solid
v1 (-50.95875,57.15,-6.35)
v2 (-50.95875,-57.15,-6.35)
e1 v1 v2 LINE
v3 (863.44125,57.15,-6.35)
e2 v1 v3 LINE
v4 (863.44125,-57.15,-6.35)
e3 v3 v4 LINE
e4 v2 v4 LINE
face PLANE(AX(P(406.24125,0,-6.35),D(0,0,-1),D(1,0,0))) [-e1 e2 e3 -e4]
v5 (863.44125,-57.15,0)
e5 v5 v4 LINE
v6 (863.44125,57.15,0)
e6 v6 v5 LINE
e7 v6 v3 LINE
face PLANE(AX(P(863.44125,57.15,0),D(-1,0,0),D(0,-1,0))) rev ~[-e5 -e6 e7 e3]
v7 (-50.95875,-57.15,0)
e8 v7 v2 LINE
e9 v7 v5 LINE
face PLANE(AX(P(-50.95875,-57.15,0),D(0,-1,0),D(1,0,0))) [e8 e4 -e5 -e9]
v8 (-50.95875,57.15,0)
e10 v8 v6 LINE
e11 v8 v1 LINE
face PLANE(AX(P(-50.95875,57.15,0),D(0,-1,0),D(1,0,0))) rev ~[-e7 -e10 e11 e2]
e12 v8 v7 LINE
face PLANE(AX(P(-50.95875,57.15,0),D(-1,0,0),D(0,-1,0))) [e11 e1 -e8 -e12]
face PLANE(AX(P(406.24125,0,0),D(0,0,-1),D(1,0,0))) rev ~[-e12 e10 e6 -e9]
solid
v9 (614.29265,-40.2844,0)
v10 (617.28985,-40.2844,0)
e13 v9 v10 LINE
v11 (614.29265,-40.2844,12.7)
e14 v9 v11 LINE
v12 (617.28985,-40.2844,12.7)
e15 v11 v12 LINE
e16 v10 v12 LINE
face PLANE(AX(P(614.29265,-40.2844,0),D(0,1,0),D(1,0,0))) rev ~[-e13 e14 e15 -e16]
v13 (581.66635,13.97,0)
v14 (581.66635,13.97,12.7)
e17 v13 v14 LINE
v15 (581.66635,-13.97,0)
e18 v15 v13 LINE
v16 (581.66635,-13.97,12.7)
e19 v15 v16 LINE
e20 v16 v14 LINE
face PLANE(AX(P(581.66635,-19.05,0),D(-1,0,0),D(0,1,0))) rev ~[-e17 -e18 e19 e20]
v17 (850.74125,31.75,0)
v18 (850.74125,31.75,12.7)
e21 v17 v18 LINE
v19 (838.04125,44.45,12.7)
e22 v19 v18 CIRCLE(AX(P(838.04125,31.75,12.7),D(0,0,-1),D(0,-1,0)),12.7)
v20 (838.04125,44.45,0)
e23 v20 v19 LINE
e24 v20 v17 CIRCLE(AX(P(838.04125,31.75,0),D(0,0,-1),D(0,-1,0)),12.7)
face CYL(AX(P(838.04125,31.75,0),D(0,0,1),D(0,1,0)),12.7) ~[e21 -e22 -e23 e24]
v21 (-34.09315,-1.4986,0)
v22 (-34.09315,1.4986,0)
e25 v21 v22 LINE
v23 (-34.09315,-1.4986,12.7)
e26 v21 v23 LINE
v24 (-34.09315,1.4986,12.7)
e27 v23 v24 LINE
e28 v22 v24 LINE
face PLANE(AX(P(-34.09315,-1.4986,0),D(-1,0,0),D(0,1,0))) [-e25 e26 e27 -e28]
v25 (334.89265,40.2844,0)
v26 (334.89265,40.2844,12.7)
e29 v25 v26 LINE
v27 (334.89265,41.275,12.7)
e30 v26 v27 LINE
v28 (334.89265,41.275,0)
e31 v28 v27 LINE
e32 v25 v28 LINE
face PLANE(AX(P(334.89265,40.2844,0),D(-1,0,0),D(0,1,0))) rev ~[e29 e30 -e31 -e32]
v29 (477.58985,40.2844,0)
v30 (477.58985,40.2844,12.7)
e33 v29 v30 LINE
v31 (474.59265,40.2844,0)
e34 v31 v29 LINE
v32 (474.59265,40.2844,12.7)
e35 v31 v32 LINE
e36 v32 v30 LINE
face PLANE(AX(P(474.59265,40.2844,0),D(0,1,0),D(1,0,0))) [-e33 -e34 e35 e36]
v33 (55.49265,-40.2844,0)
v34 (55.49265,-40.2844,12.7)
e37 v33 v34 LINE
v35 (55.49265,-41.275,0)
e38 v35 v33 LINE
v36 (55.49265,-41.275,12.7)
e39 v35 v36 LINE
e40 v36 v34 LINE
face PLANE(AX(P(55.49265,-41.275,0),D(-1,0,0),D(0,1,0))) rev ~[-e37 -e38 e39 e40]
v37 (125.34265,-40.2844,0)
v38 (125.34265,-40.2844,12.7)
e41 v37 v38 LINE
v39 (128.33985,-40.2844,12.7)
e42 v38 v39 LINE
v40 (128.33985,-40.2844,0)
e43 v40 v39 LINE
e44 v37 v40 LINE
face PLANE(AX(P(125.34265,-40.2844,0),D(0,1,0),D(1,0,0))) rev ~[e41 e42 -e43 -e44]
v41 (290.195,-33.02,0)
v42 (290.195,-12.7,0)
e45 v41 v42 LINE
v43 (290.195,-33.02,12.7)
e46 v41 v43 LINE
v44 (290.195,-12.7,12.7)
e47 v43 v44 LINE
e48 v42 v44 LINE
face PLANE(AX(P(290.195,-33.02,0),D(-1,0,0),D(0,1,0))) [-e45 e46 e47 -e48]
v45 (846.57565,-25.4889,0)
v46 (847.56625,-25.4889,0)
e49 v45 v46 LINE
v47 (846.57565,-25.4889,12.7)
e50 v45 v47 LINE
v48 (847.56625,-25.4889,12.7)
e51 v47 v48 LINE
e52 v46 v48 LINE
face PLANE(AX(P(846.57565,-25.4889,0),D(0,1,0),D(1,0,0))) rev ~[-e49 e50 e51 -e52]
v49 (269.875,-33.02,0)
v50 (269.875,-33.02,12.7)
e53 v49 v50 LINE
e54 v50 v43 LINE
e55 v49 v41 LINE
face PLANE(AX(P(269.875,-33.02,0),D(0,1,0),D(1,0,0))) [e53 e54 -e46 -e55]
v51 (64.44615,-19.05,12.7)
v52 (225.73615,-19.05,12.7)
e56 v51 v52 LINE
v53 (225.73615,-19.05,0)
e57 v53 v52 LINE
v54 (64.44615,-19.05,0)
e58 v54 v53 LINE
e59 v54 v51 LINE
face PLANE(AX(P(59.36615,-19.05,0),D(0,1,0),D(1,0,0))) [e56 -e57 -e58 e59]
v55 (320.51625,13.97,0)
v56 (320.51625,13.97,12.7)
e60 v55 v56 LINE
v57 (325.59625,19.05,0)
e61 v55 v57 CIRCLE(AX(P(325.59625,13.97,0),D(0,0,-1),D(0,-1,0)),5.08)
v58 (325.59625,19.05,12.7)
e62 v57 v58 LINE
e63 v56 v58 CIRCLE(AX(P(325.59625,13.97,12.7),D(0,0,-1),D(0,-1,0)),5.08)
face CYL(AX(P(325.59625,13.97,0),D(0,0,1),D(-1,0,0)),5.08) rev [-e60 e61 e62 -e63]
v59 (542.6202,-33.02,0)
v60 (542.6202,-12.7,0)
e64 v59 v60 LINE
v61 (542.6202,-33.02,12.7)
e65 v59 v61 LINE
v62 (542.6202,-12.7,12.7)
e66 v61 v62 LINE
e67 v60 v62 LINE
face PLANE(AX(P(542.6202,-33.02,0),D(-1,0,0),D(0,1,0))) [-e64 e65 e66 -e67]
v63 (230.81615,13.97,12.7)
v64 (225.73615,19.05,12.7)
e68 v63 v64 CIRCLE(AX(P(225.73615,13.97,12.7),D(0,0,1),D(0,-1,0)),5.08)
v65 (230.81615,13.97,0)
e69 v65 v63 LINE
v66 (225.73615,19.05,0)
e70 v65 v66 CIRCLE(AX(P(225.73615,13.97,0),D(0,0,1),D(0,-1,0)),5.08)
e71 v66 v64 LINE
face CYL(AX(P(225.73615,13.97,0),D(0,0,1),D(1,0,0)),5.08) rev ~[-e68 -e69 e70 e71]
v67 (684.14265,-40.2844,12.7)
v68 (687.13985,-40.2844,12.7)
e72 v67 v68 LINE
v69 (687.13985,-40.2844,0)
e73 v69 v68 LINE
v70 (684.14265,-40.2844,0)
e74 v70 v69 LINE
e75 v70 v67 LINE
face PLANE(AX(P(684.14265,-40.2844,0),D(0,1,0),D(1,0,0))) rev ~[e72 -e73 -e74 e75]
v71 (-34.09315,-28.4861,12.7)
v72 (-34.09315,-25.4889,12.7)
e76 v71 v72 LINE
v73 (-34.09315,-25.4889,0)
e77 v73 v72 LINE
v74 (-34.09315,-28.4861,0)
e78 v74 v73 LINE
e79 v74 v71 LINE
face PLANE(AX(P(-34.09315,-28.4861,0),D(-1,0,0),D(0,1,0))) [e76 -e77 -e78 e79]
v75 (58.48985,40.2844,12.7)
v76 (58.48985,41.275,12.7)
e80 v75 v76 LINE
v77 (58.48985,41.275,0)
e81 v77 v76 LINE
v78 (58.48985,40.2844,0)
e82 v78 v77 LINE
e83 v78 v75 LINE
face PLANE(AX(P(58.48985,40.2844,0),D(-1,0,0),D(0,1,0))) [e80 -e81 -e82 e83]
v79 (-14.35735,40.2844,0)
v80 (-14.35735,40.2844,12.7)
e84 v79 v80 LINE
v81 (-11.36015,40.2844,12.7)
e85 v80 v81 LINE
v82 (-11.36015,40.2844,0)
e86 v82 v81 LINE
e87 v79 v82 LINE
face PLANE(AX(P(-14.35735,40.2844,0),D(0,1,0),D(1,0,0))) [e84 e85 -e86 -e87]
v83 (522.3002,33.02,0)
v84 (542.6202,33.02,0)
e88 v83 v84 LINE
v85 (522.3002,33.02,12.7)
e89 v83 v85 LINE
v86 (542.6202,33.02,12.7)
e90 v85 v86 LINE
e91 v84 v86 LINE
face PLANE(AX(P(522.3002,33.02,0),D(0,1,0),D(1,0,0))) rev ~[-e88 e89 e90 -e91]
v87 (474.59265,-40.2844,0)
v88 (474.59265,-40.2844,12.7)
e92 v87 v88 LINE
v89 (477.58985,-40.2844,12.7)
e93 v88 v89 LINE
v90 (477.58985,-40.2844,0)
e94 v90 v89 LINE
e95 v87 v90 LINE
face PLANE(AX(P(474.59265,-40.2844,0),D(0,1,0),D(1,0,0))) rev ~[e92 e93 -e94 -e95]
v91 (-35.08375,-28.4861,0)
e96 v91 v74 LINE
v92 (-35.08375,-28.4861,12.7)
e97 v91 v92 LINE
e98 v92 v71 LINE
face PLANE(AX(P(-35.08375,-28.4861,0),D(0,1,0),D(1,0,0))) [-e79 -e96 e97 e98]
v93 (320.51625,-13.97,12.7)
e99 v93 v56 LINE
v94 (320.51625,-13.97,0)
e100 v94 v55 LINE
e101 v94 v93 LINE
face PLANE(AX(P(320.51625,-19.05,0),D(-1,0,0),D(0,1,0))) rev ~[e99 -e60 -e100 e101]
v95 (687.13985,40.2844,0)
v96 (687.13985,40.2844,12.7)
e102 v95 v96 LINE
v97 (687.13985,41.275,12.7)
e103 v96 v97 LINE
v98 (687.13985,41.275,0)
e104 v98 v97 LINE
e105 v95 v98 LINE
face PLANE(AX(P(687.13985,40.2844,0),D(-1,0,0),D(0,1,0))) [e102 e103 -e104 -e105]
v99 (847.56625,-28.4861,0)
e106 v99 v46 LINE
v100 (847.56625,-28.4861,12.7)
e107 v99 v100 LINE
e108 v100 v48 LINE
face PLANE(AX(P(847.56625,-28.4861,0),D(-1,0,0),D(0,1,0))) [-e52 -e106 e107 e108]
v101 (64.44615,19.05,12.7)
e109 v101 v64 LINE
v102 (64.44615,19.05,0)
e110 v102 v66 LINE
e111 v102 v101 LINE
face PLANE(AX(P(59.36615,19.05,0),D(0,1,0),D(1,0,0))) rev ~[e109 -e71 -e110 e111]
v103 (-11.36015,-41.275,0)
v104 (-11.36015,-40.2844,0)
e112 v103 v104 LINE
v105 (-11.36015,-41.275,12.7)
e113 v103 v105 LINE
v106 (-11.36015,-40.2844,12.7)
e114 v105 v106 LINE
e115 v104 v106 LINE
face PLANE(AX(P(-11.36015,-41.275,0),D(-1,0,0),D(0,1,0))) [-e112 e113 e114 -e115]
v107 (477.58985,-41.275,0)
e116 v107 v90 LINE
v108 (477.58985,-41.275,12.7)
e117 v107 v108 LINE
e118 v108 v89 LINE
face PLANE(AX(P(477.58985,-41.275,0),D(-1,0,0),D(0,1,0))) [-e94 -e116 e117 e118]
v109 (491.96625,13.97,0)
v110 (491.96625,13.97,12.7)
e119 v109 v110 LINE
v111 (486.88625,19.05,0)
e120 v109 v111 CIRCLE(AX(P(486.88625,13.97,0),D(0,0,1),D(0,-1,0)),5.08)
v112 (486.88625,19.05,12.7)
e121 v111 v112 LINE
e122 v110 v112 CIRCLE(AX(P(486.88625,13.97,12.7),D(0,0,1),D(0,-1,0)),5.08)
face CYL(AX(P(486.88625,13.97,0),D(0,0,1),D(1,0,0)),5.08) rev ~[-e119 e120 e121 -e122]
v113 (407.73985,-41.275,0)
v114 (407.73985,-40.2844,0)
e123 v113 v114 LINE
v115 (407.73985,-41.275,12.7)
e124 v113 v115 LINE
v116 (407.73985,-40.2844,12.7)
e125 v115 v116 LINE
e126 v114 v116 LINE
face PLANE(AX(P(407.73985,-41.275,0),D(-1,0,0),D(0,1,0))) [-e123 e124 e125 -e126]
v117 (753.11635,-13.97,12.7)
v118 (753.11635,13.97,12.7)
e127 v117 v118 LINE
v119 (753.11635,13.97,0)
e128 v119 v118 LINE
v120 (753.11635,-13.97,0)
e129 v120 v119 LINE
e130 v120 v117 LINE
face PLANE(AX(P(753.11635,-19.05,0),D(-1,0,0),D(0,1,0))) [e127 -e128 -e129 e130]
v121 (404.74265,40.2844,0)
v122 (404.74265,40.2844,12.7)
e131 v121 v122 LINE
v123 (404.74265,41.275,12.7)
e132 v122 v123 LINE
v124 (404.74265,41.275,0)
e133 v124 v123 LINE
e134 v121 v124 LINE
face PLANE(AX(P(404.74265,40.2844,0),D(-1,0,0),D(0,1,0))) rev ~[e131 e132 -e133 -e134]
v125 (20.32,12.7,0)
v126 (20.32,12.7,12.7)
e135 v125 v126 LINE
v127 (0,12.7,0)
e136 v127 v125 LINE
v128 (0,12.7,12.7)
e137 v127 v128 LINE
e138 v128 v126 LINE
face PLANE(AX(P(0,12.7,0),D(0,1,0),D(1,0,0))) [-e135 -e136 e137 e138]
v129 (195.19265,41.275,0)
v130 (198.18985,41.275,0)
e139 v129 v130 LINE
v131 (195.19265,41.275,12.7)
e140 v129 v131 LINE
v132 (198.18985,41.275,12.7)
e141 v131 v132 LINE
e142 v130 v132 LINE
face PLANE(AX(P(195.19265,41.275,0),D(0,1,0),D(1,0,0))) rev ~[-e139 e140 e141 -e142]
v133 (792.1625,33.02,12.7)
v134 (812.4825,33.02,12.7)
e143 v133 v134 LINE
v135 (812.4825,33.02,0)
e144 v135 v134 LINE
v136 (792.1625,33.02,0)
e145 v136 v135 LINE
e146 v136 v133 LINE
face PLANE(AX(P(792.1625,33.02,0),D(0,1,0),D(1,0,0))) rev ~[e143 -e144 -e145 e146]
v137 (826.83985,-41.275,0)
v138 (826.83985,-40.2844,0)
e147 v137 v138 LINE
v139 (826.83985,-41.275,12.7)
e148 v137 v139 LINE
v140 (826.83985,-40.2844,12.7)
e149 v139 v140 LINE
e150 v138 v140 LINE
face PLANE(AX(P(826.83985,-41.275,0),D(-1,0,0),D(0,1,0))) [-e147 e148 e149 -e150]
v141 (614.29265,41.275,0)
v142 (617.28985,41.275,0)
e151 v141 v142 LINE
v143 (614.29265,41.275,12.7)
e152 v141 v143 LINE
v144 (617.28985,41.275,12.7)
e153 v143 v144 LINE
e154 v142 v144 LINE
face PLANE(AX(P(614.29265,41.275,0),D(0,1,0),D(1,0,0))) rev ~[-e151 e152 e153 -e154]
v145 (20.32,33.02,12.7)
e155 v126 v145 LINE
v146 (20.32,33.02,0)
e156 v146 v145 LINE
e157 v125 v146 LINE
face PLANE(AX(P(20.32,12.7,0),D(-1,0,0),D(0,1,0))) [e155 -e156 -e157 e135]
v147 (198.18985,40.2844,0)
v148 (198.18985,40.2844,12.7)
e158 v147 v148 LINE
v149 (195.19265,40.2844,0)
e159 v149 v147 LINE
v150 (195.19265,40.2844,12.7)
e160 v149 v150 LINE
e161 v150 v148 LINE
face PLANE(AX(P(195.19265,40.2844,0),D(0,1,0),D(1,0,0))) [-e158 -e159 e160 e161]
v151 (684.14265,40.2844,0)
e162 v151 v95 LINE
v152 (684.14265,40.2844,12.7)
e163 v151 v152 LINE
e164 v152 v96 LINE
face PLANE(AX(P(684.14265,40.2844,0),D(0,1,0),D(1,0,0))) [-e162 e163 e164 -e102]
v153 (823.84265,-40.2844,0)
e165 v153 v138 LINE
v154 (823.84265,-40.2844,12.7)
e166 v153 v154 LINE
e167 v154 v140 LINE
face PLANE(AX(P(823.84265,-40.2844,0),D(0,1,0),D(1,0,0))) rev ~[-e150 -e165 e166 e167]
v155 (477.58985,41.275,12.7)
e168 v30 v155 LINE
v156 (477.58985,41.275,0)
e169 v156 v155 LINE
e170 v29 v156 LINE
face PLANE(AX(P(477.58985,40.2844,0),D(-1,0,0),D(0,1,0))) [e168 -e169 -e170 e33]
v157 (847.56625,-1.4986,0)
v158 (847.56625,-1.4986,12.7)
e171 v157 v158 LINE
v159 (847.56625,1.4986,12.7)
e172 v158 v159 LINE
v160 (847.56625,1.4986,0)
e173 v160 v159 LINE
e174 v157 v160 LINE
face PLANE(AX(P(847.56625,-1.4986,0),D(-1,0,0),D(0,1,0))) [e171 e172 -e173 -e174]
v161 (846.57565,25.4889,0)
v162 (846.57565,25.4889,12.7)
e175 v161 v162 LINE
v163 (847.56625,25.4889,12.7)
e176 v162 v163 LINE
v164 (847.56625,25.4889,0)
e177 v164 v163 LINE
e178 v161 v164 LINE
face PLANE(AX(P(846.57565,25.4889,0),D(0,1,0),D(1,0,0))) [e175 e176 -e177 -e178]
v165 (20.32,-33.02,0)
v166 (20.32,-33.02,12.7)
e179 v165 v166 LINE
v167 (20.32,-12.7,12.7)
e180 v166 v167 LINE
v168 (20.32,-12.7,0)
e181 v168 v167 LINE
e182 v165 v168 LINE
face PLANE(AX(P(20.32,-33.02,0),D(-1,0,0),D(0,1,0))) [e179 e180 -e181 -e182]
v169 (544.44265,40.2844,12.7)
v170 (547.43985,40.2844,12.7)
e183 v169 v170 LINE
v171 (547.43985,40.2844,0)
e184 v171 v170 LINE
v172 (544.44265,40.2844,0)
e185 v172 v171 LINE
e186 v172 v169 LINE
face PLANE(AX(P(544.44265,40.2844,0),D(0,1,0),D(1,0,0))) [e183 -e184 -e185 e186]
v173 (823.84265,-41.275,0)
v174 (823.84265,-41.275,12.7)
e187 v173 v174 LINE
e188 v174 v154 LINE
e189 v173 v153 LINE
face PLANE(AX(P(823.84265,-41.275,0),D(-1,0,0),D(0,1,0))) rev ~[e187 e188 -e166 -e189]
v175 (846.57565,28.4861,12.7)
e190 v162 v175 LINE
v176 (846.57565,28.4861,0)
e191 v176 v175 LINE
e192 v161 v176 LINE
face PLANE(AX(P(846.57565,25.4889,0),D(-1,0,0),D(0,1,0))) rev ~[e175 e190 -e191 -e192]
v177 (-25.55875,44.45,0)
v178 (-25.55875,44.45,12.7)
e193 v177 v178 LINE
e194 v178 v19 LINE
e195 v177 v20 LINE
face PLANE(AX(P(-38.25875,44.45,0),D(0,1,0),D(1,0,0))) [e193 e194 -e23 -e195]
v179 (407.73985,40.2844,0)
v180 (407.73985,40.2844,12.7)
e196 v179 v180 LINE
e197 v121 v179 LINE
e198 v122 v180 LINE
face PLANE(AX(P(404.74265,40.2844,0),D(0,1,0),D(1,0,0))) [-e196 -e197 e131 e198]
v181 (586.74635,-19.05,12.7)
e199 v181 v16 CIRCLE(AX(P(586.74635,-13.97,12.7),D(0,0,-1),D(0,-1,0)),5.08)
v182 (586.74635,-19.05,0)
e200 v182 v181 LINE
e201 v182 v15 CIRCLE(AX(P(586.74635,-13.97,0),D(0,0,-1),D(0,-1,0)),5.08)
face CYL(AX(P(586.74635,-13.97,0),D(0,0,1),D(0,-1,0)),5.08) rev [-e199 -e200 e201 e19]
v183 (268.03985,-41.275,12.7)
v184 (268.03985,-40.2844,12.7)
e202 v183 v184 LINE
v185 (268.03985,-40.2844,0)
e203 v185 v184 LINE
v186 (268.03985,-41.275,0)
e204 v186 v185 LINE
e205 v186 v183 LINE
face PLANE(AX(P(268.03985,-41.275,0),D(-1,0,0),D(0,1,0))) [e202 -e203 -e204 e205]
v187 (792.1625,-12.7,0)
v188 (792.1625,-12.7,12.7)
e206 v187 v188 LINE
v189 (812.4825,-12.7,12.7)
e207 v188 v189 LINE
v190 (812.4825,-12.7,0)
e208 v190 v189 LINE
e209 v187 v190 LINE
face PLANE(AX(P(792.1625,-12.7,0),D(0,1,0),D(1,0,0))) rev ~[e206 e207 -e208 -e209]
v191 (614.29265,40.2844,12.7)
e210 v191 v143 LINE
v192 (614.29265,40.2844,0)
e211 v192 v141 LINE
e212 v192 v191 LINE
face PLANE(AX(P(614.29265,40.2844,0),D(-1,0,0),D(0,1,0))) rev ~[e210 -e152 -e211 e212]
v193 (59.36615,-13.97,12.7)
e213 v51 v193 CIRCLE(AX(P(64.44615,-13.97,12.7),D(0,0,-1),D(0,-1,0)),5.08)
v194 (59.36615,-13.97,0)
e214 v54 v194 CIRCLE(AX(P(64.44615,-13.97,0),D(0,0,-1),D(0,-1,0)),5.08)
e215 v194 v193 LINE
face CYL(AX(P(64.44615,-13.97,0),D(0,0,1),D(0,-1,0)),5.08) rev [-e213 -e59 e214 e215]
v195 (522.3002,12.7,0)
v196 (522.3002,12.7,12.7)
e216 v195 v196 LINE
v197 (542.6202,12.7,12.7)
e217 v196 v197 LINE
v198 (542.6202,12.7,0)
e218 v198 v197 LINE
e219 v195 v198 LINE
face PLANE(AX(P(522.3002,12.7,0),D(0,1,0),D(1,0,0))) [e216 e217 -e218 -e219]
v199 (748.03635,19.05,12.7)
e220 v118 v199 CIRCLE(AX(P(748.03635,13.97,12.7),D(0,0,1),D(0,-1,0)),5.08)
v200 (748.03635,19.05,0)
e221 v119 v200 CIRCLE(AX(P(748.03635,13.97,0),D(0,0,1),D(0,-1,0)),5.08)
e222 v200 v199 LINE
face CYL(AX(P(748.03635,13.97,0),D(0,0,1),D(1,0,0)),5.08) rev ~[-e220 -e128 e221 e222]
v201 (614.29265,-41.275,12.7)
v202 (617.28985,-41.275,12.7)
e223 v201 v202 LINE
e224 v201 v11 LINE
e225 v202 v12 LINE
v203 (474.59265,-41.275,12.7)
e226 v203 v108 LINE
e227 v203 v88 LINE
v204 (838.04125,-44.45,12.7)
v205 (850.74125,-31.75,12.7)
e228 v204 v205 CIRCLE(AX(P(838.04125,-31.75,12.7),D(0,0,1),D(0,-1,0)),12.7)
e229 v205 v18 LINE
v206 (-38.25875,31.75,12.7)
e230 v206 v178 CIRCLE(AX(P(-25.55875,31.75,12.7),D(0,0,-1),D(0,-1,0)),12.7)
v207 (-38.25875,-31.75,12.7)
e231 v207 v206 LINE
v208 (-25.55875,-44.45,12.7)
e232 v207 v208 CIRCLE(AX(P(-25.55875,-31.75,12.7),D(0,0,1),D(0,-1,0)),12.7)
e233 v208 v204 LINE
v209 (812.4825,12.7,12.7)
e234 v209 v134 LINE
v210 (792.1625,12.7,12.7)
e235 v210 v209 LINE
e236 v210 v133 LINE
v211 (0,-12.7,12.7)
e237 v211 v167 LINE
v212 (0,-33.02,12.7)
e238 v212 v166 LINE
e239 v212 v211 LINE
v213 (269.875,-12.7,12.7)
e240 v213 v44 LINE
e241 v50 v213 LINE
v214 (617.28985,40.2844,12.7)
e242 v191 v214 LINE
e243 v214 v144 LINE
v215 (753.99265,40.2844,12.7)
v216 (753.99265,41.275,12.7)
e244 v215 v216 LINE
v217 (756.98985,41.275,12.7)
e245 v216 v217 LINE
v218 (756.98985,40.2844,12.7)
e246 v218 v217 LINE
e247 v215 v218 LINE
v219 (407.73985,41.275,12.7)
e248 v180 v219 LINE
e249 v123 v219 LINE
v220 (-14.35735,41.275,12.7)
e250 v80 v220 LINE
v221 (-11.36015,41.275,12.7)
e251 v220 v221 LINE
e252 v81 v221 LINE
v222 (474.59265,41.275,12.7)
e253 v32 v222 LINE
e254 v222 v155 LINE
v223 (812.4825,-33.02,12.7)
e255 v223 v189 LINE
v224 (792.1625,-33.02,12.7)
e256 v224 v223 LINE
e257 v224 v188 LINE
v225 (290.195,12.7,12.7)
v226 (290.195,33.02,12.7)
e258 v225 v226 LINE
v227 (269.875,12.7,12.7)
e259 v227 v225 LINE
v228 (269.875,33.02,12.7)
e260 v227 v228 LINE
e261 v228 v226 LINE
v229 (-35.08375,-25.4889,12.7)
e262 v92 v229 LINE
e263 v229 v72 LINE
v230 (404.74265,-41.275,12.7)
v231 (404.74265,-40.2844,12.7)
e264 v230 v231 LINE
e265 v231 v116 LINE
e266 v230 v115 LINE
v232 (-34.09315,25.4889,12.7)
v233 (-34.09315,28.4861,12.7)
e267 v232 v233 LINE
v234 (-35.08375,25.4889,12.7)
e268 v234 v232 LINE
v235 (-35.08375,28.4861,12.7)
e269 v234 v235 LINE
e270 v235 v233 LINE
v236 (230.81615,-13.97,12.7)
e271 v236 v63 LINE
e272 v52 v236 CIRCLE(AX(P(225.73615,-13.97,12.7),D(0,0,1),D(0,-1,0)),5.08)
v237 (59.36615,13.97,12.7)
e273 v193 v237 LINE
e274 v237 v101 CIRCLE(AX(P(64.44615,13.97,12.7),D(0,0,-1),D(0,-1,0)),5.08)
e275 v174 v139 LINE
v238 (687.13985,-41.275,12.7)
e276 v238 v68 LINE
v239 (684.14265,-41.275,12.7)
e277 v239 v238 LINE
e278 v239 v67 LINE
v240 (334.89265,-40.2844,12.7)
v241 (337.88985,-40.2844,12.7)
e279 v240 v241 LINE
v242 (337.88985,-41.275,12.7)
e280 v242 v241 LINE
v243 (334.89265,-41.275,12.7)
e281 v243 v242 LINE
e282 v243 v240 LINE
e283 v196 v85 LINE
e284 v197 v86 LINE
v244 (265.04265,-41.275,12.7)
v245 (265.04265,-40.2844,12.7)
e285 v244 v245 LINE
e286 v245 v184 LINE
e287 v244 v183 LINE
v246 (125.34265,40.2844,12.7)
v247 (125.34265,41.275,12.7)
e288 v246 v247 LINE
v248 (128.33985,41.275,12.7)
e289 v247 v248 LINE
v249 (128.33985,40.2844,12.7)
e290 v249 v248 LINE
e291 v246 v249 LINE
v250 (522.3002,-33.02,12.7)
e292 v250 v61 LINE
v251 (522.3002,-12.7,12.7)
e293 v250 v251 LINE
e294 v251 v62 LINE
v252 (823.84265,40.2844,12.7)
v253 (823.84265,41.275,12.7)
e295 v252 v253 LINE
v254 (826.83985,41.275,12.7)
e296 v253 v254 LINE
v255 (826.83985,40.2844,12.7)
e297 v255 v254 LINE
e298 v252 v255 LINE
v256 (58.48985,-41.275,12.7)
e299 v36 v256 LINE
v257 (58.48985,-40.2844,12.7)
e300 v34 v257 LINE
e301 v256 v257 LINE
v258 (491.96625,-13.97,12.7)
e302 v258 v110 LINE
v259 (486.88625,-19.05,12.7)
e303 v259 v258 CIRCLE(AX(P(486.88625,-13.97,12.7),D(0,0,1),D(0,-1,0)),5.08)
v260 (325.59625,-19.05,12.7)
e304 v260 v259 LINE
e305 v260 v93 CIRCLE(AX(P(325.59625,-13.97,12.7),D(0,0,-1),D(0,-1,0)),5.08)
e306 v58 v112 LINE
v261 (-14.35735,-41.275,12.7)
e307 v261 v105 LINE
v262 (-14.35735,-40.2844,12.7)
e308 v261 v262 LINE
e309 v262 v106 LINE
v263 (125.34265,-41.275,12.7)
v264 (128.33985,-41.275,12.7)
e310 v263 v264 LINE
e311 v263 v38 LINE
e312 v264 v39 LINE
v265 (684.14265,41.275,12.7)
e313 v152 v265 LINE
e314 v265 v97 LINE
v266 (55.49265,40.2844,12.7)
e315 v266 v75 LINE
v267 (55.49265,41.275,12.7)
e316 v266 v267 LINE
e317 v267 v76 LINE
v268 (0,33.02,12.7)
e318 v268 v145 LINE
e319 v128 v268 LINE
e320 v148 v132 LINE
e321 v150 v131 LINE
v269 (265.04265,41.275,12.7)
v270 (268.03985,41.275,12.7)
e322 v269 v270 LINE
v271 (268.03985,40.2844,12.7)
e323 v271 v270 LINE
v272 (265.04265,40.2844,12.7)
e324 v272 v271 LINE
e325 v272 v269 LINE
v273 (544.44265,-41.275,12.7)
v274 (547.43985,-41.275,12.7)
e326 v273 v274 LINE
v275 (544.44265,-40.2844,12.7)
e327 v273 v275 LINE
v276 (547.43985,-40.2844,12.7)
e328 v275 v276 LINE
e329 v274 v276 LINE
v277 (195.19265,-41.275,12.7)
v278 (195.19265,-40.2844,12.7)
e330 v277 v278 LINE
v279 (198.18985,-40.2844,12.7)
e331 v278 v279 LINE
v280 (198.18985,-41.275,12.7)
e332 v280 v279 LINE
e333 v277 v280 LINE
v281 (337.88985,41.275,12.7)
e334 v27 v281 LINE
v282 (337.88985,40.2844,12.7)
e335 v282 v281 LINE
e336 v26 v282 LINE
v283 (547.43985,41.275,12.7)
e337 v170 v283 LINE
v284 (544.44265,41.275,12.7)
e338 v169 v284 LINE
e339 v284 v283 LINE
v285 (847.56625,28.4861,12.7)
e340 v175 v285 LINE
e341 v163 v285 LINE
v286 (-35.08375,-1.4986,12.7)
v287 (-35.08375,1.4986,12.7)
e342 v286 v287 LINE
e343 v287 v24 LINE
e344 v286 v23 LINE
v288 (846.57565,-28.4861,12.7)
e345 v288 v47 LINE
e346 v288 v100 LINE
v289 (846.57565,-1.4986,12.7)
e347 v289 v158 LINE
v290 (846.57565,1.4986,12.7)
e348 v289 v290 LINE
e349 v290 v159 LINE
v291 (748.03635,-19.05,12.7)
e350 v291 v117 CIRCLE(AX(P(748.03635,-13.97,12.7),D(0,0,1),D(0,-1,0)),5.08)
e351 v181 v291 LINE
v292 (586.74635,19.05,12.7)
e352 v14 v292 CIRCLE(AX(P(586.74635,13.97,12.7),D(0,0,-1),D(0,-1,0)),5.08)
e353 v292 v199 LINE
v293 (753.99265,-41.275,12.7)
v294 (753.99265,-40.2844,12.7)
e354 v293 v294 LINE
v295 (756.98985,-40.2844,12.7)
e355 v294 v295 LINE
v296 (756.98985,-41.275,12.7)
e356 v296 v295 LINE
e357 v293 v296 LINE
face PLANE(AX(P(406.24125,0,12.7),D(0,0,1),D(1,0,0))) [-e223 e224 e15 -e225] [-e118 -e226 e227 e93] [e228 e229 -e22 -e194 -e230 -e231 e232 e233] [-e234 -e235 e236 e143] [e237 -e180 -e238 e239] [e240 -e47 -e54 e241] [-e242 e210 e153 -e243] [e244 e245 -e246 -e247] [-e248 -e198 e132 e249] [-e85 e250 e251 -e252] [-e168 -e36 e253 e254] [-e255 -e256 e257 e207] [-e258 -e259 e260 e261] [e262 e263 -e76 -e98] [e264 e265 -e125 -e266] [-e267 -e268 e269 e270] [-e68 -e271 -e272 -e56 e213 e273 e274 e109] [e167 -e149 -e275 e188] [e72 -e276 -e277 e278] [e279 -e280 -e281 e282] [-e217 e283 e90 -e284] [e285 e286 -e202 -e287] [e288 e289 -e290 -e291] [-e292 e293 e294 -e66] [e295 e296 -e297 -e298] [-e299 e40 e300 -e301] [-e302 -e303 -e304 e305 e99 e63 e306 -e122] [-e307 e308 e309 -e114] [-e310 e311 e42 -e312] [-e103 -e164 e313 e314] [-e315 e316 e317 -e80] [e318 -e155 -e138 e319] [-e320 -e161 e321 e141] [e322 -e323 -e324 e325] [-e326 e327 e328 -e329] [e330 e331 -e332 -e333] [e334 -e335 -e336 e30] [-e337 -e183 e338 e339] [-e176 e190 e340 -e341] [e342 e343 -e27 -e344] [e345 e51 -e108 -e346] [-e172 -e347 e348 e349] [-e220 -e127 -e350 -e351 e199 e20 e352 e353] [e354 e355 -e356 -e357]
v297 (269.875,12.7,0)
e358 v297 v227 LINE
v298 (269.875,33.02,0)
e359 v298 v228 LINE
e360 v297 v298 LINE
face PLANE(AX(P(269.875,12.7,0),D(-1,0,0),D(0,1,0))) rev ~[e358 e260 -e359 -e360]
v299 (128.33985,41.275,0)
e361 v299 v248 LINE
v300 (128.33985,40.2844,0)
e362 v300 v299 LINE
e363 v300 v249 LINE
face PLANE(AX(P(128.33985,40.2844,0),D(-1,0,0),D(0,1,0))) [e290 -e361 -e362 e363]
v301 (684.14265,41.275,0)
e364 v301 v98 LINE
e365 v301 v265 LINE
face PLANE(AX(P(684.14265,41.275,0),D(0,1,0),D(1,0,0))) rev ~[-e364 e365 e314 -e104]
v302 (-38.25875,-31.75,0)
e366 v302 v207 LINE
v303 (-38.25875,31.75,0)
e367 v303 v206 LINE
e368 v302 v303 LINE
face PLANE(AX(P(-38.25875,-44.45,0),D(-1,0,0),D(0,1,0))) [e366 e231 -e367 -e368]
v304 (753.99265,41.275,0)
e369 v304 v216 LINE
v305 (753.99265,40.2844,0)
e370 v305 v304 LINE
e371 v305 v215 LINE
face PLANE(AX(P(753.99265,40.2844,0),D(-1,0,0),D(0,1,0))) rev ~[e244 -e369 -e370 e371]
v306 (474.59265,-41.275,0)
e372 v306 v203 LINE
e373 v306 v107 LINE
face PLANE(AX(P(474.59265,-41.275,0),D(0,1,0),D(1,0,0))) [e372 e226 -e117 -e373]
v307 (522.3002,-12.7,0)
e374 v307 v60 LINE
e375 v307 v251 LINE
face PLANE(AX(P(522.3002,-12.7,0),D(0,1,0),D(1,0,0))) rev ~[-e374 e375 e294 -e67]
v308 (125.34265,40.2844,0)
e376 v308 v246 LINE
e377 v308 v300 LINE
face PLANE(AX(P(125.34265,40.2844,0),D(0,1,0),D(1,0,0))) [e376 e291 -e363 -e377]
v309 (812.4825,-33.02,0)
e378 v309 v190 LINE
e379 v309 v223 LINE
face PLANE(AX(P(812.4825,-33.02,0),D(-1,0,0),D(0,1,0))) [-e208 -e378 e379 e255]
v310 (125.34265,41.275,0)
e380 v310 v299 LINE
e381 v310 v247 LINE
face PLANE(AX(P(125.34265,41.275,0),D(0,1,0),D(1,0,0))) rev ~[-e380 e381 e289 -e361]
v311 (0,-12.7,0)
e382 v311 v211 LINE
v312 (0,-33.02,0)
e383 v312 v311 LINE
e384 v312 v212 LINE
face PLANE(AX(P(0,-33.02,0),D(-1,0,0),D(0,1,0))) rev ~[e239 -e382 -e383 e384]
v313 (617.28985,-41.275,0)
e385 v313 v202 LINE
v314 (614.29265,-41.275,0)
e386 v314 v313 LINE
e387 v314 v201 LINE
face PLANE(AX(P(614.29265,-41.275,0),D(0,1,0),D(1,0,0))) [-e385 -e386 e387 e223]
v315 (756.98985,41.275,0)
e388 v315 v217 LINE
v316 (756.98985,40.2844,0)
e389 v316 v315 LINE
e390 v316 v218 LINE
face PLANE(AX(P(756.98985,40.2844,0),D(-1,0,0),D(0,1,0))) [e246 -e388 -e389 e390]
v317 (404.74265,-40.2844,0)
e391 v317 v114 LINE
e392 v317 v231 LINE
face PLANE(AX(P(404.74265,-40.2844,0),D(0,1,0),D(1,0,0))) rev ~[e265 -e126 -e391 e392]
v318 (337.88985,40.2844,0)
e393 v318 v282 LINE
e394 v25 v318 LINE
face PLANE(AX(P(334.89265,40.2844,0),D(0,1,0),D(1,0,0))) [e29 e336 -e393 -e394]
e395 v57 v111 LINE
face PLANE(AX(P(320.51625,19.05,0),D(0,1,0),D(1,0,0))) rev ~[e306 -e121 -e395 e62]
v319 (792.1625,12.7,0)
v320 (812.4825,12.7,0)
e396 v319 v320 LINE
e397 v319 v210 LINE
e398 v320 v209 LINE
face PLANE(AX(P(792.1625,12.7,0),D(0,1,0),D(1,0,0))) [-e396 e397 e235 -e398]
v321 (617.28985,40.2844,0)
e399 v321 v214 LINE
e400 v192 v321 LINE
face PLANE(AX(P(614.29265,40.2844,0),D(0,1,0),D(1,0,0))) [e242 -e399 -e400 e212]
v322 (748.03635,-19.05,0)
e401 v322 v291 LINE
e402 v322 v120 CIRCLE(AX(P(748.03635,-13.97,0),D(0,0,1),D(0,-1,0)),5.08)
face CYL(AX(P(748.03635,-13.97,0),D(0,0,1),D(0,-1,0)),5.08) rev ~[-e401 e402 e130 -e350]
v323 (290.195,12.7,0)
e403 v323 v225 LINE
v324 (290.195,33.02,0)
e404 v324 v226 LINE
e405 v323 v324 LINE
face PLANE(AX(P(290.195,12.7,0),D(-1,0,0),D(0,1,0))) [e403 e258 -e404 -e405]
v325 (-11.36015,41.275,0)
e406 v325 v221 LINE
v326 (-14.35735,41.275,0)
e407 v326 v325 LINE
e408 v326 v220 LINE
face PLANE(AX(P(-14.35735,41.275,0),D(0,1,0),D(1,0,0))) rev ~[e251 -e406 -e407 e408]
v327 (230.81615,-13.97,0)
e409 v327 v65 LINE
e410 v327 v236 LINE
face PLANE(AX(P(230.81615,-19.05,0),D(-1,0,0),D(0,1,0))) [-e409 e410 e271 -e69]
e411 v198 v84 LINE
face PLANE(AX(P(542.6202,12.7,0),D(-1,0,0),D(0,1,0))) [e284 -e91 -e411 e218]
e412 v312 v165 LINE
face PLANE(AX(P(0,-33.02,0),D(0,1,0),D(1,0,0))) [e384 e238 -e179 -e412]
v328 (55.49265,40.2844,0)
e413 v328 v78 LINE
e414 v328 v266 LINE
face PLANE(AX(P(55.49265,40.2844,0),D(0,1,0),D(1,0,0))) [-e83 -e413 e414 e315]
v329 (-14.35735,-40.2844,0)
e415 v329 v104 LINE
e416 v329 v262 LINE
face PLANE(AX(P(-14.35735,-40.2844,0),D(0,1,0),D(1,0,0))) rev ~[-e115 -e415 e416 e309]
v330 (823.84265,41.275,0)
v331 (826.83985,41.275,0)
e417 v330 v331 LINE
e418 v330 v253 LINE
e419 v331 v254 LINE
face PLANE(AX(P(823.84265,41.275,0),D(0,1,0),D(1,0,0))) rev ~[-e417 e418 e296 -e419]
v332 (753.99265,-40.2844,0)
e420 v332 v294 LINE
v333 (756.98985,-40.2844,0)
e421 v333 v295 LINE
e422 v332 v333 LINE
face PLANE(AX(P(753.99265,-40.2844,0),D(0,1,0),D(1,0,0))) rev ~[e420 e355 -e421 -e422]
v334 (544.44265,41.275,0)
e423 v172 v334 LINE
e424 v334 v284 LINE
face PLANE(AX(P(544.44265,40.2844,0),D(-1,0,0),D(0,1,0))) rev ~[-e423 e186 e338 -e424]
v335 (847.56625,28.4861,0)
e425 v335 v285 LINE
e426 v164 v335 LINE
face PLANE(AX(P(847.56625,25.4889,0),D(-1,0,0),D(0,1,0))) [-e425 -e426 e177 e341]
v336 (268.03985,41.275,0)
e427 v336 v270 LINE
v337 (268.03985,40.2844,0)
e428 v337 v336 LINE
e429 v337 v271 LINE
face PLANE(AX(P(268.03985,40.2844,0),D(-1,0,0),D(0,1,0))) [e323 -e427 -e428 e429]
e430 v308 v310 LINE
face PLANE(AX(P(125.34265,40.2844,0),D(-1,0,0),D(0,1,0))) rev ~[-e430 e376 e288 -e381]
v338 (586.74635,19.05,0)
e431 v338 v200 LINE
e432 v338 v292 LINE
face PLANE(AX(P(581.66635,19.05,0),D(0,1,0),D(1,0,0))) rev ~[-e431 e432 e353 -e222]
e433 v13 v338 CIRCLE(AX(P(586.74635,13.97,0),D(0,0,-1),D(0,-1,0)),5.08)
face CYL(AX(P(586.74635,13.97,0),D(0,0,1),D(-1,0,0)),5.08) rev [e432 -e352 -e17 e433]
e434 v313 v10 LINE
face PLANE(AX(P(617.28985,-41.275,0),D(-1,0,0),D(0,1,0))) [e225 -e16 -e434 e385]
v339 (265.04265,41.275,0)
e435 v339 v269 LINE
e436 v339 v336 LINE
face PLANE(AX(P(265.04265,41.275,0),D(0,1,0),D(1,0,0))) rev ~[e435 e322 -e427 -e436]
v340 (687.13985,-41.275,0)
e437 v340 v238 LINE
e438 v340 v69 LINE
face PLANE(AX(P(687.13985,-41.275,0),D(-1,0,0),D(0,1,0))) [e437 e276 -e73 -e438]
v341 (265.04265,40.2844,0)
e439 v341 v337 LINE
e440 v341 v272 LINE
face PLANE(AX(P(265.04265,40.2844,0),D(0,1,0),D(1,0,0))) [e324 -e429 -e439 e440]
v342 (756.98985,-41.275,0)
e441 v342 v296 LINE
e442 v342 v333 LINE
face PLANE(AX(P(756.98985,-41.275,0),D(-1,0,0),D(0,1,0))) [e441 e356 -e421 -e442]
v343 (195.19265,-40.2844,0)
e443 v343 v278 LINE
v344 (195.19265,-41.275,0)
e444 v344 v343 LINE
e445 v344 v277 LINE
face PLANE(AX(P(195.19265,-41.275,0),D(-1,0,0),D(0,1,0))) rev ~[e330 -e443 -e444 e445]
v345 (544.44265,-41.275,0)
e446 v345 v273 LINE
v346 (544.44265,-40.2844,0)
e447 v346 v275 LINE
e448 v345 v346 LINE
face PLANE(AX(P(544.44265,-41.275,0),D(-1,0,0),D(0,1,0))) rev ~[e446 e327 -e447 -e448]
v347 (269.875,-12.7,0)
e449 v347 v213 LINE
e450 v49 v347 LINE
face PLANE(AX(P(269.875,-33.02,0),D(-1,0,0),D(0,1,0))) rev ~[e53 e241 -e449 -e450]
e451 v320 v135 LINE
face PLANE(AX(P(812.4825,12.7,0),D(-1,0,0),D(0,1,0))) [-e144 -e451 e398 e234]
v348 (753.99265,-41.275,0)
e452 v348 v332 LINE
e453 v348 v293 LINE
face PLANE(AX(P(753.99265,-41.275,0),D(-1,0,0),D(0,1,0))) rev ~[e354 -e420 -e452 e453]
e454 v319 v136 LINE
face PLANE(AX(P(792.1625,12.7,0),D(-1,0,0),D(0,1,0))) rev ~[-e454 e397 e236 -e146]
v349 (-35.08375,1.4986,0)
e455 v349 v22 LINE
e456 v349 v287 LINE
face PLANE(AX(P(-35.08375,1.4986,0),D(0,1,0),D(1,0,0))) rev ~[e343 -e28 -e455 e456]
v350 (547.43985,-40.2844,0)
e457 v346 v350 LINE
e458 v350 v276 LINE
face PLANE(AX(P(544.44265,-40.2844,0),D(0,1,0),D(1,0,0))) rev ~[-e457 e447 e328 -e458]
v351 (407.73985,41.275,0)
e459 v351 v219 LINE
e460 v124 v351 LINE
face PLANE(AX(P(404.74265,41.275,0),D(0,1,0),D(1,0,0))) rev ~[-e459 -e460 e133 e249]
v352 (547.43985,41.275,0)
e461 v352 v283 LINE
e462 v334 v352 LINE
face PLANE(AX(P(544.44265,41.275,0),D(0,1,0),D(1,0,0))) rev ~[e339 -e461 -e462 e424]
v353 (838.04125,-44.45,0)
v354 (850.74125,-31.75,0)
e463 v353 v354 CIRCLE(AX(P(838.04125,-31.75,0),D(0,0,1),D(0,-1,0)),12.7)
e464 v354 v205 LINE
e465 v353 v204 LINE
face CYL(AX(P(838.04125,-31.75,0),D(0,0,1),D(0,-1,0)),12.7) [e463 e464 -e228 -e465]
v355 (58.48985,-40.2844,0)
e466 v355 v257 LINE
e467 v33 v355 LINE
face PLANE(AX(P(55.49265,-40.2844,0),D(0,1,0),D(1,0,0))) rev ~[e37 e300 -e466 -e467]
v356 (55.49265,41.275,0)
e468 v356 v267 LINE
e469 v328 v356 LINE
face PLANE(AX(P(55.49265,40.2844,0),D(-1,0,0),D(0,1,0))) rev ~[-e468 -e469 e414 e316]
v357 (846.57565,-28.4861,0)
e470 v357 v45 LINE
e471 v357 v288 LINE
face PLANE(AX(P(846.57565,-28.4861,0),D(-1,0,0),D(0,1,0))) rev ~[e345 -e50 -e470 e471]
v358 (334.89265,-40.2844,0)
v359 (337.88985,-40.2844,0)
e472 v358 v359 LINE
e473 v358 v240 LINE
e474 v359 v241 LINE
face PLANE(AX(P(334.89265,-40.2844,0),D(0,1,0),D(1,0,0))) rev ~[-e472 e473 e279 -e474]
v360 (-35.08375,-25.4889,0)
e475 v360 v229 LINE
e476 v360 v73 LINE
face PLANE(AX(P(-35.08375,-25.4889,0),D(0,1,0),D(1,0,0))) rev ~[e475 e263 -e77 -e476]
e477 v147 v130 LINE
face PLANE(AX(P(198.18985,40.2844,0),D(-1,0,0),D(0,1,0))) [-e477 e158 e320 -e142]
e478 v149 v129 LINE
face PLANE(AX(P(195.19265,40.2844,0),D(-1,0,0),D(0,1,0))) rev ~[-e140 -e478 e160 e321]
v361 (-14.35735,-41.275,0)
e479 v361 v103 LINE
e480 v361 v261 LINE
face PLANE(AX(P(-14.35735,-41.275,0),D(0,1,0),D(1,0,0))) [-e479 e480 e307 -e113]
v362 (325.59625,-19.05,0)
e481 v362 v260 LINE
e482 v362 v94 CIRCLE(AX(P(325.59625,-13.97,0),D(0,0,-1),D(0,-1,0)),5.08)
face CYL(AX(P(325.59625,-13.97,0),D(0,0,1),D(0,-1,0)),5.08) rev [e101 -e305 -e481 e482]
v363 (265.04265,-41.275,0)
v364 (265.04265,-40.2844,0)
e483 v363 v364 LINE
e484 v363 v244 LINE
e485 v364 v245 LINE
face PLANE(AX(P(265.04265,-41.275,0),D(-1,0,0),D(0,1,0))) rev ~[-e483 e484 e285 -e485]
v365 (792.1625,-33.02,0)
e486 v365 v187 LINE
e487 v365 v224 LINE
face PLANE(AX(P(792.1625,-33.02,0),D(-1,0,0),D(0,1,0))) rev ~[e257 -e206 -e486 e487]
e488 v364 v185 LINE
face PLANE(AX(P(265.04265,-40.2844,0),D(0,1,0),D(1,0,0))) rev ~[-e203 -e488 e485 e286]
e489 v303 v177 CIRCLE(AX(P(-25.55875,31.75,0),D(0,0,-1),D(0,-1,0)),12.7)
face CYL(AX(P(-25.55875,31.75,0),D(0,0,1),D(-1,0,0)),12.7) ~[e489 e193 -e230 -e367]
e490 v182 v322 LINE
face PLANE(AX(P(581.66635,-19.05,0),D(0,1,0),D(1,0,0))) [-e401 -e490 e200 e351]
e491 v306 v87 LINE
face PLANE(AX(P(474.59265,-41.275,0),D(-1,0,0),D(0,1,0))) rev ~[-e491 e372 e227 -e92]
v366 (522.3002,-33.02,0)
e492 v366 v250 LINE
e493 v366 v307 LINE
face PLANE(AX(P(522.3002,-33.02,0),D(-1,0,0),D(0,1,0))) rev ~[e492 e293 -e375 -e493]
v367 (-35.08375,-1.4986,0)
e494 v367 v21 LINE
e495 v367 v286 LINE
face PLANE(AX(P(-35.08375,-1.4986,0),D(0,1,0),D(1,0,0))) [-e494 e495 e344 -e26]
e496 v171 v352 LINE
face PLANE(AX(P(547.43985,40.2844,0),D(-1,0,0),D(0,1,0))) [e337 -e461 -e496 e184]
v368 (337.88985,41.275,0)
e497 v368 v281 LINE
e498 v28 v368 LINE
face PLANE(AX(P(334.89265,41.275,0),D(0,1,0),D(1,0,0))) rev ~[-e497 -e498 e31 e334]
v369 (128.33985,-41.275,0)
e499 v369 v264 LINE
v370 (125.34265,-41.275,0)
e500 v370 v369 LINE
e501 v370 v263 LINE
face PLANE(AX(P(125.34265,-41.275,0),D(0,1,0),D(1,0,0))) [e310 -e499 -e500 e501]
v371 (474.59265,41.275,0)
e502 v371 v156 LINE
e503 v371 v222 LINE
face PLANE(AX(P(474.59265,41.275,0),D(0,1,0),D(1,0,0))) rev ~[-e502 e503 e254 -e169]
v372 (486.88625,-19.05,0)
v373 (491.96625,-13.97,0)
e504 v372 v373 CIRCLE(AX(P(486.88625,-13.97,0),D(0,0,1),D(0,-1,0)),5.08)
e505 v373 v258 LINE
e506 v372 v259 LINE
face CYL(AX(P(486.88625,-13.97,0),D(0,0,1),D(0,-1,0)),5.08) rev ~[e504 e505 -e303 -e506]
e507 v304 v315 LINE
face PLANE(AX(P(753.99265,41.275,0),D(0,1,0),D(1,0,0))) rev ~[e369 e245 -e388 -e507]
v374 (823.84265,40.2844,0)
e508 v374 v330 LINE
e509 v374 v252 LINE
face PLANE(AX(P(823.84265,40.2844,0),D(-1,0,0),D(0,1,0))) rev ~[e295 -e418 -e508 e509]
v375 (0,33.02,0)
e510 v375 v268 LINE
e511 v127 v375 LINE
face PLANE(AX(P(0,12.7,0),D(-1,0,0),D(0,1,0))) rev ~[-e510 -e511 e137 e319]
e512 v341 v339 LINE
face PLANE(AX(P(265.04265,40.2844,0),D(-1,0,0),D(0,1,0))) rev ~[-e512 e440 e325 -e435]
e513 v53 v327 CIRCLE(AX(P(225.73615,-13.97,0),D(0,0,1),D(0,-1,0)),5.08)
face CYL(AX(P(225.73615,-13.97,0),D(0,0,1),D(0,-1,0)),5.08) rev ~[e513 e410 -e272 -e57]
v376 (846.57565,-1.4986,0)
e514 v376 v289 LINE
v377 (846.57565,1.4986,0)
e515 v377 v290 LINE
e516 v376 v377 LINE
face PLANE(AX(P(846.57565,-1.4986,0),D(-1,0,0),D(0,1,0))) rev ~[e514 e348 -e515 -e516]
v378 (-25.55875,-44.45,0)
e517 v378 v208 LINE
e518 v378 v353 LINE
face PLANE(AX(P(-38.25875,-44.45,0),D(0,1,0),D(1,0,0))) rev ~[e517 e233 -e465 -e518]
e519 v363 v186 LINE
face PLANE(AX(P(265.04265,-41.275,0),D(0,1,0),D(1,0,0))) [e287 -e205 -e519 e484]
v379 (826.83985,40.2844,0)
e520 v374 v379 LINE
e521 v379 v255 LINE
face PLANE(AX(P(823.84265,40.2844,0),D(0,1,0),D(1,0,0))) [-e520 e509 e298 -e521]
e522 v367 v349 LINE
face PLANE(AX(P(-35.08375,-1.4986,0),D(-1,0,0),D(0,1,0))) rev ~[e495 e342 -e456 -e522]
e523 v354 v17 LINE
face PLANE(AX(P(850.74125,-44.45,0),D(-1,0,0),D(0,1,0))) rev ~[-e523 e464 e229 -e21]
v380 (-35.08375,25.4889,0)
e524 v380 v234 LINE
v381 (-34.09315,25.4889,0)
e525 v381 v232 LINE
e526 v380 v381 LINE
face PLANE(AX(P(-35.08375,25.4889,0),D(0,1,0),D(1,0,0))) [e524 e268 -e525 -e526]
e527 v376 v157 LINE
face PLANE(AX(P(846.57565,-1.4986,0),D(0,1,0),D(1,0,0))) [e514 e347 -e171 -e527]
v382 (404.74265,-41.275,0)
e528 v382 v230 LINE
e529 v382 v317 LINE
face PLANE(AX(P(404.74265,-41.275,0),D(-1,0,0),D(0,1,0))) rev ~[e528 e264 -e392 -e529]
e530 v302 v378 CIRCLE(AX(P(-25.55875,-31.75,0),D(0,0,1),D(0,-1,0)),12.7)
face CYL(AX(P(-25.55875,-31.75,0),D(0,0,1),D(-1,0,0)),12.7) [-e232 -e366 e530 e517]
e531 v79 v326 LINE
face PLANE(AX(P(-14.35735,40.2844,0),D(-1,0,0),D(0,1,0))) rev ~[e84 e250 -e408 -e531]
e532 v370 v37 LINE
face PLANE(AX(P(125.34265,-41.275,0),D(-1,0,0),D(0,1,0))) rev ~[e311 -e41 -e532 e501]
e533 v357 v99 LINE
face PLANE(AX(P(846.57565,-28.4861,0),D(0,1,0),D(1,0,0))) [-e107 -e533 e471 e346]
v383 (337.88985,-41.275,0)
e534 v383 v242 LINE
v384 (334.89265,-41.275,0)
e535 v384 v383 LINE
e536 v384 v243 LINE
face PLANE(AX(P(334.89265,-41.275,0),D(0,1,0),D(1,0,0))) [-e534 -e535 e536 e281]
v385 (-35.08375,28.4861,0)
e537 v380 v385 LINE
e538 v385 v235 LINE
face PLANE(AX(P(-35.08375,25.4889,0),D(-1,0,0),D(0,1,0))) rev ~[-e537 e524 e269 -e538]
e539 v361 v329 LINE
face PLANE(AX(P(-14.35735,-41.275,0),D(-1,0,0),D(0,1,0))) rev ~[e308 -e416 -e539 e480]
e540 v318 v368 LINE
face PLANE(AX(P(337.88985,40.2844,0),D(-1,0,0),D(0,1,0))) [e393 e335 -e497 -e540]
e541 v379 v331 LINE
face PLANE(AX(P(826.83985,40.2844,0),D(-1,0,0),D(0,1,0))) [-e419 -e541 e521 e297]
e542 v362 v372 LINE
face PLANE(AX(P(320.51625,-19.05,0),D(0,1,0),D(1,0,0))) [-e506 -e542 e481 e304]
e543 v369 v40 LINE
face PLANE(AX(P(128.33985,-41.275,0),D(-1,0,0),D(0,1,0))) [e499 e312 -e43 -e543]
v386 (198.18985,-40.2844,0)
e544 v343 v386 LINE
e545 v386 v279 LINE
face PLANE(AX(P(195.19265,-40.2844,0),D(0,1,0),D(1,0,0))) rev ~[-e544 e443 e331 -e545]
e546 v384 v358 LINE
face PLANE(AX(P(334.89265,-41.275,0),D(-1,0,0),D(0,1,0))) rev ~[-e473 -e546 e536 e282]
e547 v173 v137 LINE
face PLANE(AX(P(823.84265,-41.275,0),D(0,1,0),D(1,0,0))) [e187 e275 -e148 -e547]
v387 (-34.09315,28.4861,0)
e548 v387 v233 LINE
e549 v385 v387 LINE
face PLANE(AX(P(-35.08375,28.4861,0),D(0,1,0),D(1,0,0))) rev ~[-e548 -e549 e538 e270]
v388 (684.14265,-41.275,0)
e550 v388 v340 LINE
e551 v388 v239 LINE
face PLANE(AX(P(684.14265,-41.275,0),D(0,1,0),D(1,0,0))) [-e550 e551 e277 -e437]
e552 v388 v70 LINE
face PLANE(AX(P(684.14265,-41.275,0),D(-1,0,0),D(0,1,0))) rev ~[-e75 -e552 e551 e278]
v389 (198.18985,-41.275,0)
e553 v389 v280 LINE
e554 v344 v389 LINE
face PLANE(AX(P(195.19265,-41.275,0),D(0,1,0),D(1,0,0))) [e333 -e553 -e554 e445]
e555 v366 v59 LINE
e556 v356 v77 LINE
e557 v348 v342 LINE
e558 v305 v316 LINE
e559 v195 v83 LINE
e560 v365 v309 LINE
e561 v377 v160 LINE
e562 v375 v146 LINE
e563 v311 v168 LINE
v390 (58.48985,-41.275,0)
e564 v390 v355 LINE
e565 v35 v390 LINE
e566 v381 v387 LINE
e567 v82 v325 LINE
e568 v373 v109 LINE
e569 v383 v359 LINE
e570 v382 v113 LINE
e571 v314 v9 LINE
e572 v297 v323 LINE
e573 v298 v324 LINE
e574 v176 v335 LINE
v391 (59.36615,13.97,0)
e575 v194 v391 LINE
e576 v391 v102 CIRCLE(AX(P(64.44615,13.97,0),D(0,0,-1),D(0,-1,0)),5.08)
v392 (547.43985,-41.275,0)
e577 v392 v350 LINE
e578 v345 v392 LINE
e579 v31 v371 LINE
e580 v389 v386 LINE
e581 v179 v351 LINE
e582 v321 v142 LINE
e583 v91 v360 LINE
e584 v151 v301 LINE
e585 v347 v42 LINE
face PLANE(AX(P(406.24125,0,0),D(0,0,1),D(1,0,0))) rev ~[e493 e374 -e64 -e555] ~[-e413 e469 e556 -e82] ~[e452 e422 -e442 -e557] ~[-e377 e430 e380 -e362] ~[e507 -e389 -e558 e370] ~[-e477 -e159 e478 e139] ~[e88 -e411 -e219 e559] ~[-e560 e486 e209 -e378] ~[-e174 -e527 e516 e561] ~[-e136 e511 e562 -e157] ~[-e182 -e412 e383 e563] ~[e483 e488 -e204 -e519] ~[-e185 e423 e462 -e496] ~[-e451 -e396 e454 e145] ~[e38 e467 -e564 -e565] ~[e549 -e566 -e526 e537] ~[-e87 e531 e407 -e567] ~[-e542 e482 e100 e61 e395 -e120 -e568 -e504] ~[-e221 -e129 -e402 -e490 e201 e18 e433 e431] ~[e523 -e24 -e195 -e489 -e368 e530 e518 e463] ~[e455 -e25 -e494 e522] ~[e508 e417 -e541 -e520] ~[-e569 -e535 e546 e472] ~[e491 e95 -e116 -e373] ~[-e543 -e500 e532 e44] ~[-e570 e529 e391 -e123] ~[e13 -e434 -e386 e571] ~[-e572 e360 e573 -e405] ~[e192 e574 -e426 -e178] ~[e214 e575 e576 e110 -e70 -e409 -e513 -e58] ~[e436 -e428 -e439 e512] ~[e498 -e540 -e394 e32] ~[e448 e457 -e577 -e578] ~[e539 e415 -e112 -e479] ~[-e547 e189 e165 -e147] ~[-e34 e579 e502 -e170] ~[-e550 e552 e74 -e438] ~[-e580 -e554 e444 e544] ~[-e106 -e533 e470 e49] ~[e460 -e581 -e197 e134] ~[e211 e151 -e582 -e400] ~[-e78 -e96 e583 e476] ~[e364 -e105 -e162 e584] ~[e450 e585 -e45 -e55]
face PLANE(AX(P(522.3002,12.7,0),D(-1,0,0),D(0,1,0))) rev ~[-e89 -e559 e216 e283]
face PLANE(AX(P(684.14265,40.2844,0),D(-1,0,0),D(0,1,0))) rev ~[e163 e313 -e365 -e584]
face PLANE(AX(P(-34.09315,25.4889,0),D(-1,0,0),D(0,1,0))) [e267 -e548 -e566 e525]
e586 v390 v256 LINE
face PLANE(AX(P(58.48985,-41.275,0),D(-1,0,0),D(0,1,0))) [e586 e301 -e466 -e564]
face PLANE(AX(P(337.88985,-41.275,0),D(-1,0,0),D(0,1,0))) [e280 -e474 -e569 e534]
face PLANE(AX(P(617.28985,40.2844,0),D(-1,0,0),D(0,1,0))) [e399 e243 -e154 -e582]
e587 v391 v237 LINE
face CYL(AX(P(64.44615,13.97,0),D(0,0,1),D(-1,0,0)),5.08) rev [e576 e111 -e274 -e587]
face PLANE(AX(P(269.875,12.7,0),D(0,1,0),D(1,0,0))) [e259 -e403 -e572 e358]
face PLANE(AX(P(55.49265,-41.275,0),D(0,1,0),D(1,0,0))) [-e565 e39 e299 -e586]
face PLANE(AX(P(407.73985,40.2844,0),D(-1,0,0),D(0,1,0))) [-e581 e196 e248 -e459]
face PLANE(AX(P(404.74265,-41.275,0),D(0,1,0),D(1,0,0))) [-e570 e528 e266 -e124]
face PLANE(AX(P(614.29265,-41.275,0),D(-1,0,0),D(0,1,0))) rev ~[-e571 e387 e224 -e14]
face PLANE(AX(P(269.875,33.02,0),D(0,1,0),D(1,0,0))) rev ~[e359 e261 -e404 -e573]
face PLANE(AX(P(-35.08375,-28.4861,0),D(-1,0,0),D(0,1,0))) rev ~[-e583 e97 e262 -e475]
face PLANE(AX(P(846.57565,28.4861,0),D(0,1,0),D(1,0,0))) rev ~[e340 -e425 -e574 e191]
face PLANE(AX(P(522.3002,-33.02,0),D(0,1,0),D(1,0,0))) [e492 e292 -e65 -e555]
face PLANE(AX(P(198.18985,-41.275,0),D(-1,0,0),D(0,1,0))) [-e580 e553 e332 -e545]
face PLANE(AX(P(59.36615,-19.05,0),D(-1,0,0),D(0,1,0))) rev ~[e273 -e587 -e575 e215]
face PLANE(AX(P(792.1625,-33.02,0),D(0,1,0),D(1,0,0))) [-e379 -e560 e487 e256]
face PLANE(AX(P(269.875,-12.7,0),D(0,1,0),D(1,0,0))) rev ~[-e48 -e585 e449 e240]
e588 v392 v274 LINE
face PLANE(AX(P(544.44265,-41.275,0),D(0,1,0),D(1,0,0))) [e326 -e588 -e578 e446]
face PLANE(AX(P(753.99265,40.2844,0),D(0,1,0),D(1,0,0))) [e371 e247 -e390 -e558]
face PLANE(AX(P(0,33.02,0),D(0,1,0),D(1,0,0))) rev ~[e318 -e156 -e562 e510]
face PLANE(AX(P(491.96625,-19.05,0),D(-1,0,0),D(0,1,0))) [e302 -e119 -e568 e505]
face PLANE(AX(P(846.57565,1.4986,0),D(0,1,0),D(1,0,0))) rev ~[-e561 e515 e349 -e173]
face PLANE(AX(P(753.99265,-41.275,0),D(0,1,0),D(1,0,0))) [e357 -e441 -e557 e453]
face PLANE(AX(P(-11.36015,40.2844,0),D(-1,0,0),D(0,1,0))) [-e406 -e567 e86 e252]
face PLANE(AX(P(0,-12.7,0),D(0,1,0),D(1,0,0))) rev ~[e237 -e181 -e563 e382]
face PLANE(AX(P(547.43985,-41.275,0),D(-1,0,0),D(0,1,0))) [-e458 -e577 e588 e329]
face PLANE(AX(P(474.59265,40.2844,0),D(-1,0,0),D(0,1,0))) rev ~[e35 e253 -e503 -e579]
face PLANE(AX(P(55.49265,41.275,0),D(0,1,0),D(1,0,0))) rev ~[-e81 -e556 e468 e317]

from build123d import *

# Parameters (mm, degrees)
F0_W     = 889
F0_H     = 88.9
F0_W_2   = 2.9972
F0_H_2   = 0.9906
F0_W_3   = 0.9906
F0_H_3   = 2.9972
F0_W_4   = 20.32
F0_H_4   = 20.32
F0_W_5   = 171.45
F0_H_5   = 38.1
F1_DEPTH = 12.7
F2_R     = 12.7
F3_R     = 5.08
F4_W     = 914.4
F4_H     = 114.3
F5_DEPTH = 6.35


with BuildPart() as f1:
    # F0 (on Top) → F1 (new body)
    with BuildSketch(Plane.XY):
        with Locations((406.24125, 0)):
            Rectangle(F0_W, F0_H)
        with Locations((-12.85875, -40.7797)):
            Rectangle(F0_W_2, F0_H_2, mode=Mode.SUBTRACT)
        with Locations((56.99125, -40.7797)):
            Rectangle(F0_W_2, F0_H_2, mode=Mode.SUBTRACT)
        with Locations((126.84125, -40.7797)):
            Rectangle(F0_W_2, F0_H_2, mode=Mode.SUBTRACT)
        with Locations((-34.58845, -26.9875)):
            Rectangle(F0_W_3, F0_H_3, mode=Mode.SUBTRACT)
        with Locations((10.16, -22.86)):
            Rectangle(F0_W_4, F0_H_4, mode=Mode.SUBTRACT)
        with Locations((196.69125, -40.7797)):
            Rectangle(F0_W_2, F0_H_2, mode=Mode.SUBTRACT)
        with Locations((266.54125, -40.7797)):
            Rectangle(F0_W_2, F0_H_2, mode=Mode.SUBTRACT)
        with Locations((336.39125, -40.7797)):
            Rectangle(F0_W_2, F0_H_2, mode=Mode.SUBTRACT)
        with Locations((280.035, -22.86)):
            Rectangle(F0_W_4, F0_H_4, mode=Mode.SUBTRACT)
        with Locations((406.24125, -40.7797)):
            Rectangle(F0_W_2, F0_H_2, mode=Mode.SUBTRACT)
        with Locations((476.09125, -40.7797)):
            Rectangle(F0_W_2, F0_H_2, mode=Mode.SUBTRACT)
        with Locations((545.94125, -40.7797)):
            Rectangle(F0_W_2, F0_H_2, mode=Mode.SUBTRACT)
        with Locations((615.79125, -40.7797)):
            Rectangle(F0_W_2, F0_H_2, mode=Mode.SUBTRACT)
        with Locations((532.4602, -22.86)):
            Rectangle(F0_W_4, F0_H_4, mode=Mode.SUBTRACT)
        with Locations((685.64125, -40.7797)):
            Rectangle(F0_W_2, F0_H_2, mode=Mode.SUBTRACT)
        with Locations((755.49125, -40.7797)):
            Rectangle(F0_W_2, F0_H_2, mode=Mode.SUBTRACT)
        with Locations((825.34125, -40.7797)):
            Rectangle(F0_W_2, F0_H_2, mode=Mode.SUBTRACT)
        with Locations((847.07095, -26.9875)):
            Rectangle(F0_W_3, F0_H_3, mode=Mode.SUBTRACT)
        with Locations((802.3225, -22.86)):
            Rectangle(F0_W_4, F0_H_4, mode=Mode.SUBTRACT)
        with Locations((-34.58845, 0)):
            Rectangle(F0_W_3, F0_H_3, mode=Mode.SUBTRACT)
        with Locations((145.09115, 0)):
            Rectangle(F0_W_5, F0_H_5, mode=Mode.SUBTRACT)
        with Locations((10.16, 22.86)):
            Rectangle(F0_W_4, F0_H_4, mode=Mode.SUBTRACT)
        with Locations((-34.58845, 26.9875)):
            Rectangle(F0_W_3, F0_H_3, mode=Mode.SUBTRACT)
        with Locations((-12.85875, 40.7797)):
            Rectangle(F0_W_2, F0_H_2, mode=Mode.SUBTRACT)
        with Locations((56.99125, 40.7797)):
            Rectangle(F0_W_2, F0_H_2, mode=Mode.SUBTRACT)
        with Locations((126.84125, 40.7797)):
            Rectangle(F0_W_2, F0_H_2, mode=Mode.SUBTRACT)
        with Locations((280.035, 22.86)):
            Rectangle(F0_W_4, F0_H_4, mode=Mode.SUBTRACT)
        with Locations((196.69125, 40.7797)):
            Rectangle(F0_W_2, F0_H_2, mode=Mode.SUBTRACT)
        with Locations((266.54125, 40.7797)):
            Rectangle(F0_W_2, F0_H_2, mode=Mode.SUBTRACT)
        with Locations((336.39125, 40.7797)):
            Rectangle(F0_W_2, F0_H_2, mode=Mode.SUBTRACT)
        with Locations((406.24125, 0)):
            Rectangle(F0_W_5, F0_H_5, mode=Mode.SUBTRACT)
        with Locations((667.39135, 0)):
            Rectangle(F0_W_5, F0_H_5, mode=Mode.SUBTRACT)
        with Locations((847.07095, 0)):
            Rectangle(F0_W_3, F0_H_3, mode=Mode.SUBTRACT)
        with Locations((532.4602, 22.86)):
            Rectangle(F0_W_4, F0_H_4, mode=Mode.SUBTRACT)
        with Locations((406.24125, 40.7797)):
            Rectangle(F0_W_2, F0_H_2, mode=Mode.SUBTRACT)
        with Locations((476.09125, 40.7797)):
            Rectangle(F0_W_2, F0_H_2, mode=Mode.SUBTRACT)
        with Locations((545.94125, 40.7797)):
            Rectangle(F0_W_2, F0_H_2, mode=Mode.SUBTRACT)
        with Locations((615.79125, 40.7797)):
            Rectangle(F0_W_2, F0_H_2, mode=Mode.SUBTRACT)
        with Locations((802.3225, 22.86)):
            Rectangle(F0_W_4, F0_H_4, mode=Mode.SUBTRACT)
        with Locations((847.07095, 26.9875)):
            Rectangle(F0_W_3, F0_H_3, mode=Mode.SUBTRACT)
        with Locations((685.64125, 40.7797)):
            Rectangle(F0_W_2, F0_H_2, mode=Mode.SUBTRACT)
        with Locations((755.49125, 40.7797)):
            Rectangle(F0_W_2, F0_H_2, mode=Mode.SUBTRACT)
        with Locations((825.34125, 40.7797)):
            Rectangle(F0_W_2, F0_H_2, mode=Mode.SUBTRACT)
    extrude(amount=F1_DEPTH)

    # F2
    f2_edges = [f1.edges().sort_by_distance(p)[0] for p in [
        (850.74125, 44.45, 6.35),
        (850.74125, -44.45, 6.35),
        (-38.25875, 44.45, 6.35),
        (-38.25875, -44.45, 6.35),
    ]]
    fillet(f2_edges, radius=F2_R)

    # F3
    f3_edges = [f1.edges().sort_by_distance(p)[0] for p in [
        (59.36615, 19.05, 6.35),
        (320.51625, 19.05, 6.35),
        (581.66635, 19.05, 6.35),
        (753.11635, 19.05, 6.35),
        (491.96625, 19.05, 6.35),
        (230.81615, 19.05, 6.35),
        (230.81615, -19.05, 6.35),
        (491.96625, -19.05, 6.35),
        (753.11635, -19.05, 6.35),
        (581.66635, -19.05, 6.35),
        (320.51625, -19.05, 6.35),
        (59.36615, -19.05, 6.35),
    ]]
    fillet(f3_edges, radius=F3_R)


with BuildPart() as f5:
    # F4 (on face) → F5 (new body)
    with BuildSketch(Plane(origin=(0, 0, 0), x_dir=(1, 0, 0), z_dir=(0, 0, -1))):
        with Locations((406.24125, 0)):
            Rectangle(F4_W, F4_H)
    extrude(amount=F5_DEPTH)


solid = Compound([f1.part, f5.part])
